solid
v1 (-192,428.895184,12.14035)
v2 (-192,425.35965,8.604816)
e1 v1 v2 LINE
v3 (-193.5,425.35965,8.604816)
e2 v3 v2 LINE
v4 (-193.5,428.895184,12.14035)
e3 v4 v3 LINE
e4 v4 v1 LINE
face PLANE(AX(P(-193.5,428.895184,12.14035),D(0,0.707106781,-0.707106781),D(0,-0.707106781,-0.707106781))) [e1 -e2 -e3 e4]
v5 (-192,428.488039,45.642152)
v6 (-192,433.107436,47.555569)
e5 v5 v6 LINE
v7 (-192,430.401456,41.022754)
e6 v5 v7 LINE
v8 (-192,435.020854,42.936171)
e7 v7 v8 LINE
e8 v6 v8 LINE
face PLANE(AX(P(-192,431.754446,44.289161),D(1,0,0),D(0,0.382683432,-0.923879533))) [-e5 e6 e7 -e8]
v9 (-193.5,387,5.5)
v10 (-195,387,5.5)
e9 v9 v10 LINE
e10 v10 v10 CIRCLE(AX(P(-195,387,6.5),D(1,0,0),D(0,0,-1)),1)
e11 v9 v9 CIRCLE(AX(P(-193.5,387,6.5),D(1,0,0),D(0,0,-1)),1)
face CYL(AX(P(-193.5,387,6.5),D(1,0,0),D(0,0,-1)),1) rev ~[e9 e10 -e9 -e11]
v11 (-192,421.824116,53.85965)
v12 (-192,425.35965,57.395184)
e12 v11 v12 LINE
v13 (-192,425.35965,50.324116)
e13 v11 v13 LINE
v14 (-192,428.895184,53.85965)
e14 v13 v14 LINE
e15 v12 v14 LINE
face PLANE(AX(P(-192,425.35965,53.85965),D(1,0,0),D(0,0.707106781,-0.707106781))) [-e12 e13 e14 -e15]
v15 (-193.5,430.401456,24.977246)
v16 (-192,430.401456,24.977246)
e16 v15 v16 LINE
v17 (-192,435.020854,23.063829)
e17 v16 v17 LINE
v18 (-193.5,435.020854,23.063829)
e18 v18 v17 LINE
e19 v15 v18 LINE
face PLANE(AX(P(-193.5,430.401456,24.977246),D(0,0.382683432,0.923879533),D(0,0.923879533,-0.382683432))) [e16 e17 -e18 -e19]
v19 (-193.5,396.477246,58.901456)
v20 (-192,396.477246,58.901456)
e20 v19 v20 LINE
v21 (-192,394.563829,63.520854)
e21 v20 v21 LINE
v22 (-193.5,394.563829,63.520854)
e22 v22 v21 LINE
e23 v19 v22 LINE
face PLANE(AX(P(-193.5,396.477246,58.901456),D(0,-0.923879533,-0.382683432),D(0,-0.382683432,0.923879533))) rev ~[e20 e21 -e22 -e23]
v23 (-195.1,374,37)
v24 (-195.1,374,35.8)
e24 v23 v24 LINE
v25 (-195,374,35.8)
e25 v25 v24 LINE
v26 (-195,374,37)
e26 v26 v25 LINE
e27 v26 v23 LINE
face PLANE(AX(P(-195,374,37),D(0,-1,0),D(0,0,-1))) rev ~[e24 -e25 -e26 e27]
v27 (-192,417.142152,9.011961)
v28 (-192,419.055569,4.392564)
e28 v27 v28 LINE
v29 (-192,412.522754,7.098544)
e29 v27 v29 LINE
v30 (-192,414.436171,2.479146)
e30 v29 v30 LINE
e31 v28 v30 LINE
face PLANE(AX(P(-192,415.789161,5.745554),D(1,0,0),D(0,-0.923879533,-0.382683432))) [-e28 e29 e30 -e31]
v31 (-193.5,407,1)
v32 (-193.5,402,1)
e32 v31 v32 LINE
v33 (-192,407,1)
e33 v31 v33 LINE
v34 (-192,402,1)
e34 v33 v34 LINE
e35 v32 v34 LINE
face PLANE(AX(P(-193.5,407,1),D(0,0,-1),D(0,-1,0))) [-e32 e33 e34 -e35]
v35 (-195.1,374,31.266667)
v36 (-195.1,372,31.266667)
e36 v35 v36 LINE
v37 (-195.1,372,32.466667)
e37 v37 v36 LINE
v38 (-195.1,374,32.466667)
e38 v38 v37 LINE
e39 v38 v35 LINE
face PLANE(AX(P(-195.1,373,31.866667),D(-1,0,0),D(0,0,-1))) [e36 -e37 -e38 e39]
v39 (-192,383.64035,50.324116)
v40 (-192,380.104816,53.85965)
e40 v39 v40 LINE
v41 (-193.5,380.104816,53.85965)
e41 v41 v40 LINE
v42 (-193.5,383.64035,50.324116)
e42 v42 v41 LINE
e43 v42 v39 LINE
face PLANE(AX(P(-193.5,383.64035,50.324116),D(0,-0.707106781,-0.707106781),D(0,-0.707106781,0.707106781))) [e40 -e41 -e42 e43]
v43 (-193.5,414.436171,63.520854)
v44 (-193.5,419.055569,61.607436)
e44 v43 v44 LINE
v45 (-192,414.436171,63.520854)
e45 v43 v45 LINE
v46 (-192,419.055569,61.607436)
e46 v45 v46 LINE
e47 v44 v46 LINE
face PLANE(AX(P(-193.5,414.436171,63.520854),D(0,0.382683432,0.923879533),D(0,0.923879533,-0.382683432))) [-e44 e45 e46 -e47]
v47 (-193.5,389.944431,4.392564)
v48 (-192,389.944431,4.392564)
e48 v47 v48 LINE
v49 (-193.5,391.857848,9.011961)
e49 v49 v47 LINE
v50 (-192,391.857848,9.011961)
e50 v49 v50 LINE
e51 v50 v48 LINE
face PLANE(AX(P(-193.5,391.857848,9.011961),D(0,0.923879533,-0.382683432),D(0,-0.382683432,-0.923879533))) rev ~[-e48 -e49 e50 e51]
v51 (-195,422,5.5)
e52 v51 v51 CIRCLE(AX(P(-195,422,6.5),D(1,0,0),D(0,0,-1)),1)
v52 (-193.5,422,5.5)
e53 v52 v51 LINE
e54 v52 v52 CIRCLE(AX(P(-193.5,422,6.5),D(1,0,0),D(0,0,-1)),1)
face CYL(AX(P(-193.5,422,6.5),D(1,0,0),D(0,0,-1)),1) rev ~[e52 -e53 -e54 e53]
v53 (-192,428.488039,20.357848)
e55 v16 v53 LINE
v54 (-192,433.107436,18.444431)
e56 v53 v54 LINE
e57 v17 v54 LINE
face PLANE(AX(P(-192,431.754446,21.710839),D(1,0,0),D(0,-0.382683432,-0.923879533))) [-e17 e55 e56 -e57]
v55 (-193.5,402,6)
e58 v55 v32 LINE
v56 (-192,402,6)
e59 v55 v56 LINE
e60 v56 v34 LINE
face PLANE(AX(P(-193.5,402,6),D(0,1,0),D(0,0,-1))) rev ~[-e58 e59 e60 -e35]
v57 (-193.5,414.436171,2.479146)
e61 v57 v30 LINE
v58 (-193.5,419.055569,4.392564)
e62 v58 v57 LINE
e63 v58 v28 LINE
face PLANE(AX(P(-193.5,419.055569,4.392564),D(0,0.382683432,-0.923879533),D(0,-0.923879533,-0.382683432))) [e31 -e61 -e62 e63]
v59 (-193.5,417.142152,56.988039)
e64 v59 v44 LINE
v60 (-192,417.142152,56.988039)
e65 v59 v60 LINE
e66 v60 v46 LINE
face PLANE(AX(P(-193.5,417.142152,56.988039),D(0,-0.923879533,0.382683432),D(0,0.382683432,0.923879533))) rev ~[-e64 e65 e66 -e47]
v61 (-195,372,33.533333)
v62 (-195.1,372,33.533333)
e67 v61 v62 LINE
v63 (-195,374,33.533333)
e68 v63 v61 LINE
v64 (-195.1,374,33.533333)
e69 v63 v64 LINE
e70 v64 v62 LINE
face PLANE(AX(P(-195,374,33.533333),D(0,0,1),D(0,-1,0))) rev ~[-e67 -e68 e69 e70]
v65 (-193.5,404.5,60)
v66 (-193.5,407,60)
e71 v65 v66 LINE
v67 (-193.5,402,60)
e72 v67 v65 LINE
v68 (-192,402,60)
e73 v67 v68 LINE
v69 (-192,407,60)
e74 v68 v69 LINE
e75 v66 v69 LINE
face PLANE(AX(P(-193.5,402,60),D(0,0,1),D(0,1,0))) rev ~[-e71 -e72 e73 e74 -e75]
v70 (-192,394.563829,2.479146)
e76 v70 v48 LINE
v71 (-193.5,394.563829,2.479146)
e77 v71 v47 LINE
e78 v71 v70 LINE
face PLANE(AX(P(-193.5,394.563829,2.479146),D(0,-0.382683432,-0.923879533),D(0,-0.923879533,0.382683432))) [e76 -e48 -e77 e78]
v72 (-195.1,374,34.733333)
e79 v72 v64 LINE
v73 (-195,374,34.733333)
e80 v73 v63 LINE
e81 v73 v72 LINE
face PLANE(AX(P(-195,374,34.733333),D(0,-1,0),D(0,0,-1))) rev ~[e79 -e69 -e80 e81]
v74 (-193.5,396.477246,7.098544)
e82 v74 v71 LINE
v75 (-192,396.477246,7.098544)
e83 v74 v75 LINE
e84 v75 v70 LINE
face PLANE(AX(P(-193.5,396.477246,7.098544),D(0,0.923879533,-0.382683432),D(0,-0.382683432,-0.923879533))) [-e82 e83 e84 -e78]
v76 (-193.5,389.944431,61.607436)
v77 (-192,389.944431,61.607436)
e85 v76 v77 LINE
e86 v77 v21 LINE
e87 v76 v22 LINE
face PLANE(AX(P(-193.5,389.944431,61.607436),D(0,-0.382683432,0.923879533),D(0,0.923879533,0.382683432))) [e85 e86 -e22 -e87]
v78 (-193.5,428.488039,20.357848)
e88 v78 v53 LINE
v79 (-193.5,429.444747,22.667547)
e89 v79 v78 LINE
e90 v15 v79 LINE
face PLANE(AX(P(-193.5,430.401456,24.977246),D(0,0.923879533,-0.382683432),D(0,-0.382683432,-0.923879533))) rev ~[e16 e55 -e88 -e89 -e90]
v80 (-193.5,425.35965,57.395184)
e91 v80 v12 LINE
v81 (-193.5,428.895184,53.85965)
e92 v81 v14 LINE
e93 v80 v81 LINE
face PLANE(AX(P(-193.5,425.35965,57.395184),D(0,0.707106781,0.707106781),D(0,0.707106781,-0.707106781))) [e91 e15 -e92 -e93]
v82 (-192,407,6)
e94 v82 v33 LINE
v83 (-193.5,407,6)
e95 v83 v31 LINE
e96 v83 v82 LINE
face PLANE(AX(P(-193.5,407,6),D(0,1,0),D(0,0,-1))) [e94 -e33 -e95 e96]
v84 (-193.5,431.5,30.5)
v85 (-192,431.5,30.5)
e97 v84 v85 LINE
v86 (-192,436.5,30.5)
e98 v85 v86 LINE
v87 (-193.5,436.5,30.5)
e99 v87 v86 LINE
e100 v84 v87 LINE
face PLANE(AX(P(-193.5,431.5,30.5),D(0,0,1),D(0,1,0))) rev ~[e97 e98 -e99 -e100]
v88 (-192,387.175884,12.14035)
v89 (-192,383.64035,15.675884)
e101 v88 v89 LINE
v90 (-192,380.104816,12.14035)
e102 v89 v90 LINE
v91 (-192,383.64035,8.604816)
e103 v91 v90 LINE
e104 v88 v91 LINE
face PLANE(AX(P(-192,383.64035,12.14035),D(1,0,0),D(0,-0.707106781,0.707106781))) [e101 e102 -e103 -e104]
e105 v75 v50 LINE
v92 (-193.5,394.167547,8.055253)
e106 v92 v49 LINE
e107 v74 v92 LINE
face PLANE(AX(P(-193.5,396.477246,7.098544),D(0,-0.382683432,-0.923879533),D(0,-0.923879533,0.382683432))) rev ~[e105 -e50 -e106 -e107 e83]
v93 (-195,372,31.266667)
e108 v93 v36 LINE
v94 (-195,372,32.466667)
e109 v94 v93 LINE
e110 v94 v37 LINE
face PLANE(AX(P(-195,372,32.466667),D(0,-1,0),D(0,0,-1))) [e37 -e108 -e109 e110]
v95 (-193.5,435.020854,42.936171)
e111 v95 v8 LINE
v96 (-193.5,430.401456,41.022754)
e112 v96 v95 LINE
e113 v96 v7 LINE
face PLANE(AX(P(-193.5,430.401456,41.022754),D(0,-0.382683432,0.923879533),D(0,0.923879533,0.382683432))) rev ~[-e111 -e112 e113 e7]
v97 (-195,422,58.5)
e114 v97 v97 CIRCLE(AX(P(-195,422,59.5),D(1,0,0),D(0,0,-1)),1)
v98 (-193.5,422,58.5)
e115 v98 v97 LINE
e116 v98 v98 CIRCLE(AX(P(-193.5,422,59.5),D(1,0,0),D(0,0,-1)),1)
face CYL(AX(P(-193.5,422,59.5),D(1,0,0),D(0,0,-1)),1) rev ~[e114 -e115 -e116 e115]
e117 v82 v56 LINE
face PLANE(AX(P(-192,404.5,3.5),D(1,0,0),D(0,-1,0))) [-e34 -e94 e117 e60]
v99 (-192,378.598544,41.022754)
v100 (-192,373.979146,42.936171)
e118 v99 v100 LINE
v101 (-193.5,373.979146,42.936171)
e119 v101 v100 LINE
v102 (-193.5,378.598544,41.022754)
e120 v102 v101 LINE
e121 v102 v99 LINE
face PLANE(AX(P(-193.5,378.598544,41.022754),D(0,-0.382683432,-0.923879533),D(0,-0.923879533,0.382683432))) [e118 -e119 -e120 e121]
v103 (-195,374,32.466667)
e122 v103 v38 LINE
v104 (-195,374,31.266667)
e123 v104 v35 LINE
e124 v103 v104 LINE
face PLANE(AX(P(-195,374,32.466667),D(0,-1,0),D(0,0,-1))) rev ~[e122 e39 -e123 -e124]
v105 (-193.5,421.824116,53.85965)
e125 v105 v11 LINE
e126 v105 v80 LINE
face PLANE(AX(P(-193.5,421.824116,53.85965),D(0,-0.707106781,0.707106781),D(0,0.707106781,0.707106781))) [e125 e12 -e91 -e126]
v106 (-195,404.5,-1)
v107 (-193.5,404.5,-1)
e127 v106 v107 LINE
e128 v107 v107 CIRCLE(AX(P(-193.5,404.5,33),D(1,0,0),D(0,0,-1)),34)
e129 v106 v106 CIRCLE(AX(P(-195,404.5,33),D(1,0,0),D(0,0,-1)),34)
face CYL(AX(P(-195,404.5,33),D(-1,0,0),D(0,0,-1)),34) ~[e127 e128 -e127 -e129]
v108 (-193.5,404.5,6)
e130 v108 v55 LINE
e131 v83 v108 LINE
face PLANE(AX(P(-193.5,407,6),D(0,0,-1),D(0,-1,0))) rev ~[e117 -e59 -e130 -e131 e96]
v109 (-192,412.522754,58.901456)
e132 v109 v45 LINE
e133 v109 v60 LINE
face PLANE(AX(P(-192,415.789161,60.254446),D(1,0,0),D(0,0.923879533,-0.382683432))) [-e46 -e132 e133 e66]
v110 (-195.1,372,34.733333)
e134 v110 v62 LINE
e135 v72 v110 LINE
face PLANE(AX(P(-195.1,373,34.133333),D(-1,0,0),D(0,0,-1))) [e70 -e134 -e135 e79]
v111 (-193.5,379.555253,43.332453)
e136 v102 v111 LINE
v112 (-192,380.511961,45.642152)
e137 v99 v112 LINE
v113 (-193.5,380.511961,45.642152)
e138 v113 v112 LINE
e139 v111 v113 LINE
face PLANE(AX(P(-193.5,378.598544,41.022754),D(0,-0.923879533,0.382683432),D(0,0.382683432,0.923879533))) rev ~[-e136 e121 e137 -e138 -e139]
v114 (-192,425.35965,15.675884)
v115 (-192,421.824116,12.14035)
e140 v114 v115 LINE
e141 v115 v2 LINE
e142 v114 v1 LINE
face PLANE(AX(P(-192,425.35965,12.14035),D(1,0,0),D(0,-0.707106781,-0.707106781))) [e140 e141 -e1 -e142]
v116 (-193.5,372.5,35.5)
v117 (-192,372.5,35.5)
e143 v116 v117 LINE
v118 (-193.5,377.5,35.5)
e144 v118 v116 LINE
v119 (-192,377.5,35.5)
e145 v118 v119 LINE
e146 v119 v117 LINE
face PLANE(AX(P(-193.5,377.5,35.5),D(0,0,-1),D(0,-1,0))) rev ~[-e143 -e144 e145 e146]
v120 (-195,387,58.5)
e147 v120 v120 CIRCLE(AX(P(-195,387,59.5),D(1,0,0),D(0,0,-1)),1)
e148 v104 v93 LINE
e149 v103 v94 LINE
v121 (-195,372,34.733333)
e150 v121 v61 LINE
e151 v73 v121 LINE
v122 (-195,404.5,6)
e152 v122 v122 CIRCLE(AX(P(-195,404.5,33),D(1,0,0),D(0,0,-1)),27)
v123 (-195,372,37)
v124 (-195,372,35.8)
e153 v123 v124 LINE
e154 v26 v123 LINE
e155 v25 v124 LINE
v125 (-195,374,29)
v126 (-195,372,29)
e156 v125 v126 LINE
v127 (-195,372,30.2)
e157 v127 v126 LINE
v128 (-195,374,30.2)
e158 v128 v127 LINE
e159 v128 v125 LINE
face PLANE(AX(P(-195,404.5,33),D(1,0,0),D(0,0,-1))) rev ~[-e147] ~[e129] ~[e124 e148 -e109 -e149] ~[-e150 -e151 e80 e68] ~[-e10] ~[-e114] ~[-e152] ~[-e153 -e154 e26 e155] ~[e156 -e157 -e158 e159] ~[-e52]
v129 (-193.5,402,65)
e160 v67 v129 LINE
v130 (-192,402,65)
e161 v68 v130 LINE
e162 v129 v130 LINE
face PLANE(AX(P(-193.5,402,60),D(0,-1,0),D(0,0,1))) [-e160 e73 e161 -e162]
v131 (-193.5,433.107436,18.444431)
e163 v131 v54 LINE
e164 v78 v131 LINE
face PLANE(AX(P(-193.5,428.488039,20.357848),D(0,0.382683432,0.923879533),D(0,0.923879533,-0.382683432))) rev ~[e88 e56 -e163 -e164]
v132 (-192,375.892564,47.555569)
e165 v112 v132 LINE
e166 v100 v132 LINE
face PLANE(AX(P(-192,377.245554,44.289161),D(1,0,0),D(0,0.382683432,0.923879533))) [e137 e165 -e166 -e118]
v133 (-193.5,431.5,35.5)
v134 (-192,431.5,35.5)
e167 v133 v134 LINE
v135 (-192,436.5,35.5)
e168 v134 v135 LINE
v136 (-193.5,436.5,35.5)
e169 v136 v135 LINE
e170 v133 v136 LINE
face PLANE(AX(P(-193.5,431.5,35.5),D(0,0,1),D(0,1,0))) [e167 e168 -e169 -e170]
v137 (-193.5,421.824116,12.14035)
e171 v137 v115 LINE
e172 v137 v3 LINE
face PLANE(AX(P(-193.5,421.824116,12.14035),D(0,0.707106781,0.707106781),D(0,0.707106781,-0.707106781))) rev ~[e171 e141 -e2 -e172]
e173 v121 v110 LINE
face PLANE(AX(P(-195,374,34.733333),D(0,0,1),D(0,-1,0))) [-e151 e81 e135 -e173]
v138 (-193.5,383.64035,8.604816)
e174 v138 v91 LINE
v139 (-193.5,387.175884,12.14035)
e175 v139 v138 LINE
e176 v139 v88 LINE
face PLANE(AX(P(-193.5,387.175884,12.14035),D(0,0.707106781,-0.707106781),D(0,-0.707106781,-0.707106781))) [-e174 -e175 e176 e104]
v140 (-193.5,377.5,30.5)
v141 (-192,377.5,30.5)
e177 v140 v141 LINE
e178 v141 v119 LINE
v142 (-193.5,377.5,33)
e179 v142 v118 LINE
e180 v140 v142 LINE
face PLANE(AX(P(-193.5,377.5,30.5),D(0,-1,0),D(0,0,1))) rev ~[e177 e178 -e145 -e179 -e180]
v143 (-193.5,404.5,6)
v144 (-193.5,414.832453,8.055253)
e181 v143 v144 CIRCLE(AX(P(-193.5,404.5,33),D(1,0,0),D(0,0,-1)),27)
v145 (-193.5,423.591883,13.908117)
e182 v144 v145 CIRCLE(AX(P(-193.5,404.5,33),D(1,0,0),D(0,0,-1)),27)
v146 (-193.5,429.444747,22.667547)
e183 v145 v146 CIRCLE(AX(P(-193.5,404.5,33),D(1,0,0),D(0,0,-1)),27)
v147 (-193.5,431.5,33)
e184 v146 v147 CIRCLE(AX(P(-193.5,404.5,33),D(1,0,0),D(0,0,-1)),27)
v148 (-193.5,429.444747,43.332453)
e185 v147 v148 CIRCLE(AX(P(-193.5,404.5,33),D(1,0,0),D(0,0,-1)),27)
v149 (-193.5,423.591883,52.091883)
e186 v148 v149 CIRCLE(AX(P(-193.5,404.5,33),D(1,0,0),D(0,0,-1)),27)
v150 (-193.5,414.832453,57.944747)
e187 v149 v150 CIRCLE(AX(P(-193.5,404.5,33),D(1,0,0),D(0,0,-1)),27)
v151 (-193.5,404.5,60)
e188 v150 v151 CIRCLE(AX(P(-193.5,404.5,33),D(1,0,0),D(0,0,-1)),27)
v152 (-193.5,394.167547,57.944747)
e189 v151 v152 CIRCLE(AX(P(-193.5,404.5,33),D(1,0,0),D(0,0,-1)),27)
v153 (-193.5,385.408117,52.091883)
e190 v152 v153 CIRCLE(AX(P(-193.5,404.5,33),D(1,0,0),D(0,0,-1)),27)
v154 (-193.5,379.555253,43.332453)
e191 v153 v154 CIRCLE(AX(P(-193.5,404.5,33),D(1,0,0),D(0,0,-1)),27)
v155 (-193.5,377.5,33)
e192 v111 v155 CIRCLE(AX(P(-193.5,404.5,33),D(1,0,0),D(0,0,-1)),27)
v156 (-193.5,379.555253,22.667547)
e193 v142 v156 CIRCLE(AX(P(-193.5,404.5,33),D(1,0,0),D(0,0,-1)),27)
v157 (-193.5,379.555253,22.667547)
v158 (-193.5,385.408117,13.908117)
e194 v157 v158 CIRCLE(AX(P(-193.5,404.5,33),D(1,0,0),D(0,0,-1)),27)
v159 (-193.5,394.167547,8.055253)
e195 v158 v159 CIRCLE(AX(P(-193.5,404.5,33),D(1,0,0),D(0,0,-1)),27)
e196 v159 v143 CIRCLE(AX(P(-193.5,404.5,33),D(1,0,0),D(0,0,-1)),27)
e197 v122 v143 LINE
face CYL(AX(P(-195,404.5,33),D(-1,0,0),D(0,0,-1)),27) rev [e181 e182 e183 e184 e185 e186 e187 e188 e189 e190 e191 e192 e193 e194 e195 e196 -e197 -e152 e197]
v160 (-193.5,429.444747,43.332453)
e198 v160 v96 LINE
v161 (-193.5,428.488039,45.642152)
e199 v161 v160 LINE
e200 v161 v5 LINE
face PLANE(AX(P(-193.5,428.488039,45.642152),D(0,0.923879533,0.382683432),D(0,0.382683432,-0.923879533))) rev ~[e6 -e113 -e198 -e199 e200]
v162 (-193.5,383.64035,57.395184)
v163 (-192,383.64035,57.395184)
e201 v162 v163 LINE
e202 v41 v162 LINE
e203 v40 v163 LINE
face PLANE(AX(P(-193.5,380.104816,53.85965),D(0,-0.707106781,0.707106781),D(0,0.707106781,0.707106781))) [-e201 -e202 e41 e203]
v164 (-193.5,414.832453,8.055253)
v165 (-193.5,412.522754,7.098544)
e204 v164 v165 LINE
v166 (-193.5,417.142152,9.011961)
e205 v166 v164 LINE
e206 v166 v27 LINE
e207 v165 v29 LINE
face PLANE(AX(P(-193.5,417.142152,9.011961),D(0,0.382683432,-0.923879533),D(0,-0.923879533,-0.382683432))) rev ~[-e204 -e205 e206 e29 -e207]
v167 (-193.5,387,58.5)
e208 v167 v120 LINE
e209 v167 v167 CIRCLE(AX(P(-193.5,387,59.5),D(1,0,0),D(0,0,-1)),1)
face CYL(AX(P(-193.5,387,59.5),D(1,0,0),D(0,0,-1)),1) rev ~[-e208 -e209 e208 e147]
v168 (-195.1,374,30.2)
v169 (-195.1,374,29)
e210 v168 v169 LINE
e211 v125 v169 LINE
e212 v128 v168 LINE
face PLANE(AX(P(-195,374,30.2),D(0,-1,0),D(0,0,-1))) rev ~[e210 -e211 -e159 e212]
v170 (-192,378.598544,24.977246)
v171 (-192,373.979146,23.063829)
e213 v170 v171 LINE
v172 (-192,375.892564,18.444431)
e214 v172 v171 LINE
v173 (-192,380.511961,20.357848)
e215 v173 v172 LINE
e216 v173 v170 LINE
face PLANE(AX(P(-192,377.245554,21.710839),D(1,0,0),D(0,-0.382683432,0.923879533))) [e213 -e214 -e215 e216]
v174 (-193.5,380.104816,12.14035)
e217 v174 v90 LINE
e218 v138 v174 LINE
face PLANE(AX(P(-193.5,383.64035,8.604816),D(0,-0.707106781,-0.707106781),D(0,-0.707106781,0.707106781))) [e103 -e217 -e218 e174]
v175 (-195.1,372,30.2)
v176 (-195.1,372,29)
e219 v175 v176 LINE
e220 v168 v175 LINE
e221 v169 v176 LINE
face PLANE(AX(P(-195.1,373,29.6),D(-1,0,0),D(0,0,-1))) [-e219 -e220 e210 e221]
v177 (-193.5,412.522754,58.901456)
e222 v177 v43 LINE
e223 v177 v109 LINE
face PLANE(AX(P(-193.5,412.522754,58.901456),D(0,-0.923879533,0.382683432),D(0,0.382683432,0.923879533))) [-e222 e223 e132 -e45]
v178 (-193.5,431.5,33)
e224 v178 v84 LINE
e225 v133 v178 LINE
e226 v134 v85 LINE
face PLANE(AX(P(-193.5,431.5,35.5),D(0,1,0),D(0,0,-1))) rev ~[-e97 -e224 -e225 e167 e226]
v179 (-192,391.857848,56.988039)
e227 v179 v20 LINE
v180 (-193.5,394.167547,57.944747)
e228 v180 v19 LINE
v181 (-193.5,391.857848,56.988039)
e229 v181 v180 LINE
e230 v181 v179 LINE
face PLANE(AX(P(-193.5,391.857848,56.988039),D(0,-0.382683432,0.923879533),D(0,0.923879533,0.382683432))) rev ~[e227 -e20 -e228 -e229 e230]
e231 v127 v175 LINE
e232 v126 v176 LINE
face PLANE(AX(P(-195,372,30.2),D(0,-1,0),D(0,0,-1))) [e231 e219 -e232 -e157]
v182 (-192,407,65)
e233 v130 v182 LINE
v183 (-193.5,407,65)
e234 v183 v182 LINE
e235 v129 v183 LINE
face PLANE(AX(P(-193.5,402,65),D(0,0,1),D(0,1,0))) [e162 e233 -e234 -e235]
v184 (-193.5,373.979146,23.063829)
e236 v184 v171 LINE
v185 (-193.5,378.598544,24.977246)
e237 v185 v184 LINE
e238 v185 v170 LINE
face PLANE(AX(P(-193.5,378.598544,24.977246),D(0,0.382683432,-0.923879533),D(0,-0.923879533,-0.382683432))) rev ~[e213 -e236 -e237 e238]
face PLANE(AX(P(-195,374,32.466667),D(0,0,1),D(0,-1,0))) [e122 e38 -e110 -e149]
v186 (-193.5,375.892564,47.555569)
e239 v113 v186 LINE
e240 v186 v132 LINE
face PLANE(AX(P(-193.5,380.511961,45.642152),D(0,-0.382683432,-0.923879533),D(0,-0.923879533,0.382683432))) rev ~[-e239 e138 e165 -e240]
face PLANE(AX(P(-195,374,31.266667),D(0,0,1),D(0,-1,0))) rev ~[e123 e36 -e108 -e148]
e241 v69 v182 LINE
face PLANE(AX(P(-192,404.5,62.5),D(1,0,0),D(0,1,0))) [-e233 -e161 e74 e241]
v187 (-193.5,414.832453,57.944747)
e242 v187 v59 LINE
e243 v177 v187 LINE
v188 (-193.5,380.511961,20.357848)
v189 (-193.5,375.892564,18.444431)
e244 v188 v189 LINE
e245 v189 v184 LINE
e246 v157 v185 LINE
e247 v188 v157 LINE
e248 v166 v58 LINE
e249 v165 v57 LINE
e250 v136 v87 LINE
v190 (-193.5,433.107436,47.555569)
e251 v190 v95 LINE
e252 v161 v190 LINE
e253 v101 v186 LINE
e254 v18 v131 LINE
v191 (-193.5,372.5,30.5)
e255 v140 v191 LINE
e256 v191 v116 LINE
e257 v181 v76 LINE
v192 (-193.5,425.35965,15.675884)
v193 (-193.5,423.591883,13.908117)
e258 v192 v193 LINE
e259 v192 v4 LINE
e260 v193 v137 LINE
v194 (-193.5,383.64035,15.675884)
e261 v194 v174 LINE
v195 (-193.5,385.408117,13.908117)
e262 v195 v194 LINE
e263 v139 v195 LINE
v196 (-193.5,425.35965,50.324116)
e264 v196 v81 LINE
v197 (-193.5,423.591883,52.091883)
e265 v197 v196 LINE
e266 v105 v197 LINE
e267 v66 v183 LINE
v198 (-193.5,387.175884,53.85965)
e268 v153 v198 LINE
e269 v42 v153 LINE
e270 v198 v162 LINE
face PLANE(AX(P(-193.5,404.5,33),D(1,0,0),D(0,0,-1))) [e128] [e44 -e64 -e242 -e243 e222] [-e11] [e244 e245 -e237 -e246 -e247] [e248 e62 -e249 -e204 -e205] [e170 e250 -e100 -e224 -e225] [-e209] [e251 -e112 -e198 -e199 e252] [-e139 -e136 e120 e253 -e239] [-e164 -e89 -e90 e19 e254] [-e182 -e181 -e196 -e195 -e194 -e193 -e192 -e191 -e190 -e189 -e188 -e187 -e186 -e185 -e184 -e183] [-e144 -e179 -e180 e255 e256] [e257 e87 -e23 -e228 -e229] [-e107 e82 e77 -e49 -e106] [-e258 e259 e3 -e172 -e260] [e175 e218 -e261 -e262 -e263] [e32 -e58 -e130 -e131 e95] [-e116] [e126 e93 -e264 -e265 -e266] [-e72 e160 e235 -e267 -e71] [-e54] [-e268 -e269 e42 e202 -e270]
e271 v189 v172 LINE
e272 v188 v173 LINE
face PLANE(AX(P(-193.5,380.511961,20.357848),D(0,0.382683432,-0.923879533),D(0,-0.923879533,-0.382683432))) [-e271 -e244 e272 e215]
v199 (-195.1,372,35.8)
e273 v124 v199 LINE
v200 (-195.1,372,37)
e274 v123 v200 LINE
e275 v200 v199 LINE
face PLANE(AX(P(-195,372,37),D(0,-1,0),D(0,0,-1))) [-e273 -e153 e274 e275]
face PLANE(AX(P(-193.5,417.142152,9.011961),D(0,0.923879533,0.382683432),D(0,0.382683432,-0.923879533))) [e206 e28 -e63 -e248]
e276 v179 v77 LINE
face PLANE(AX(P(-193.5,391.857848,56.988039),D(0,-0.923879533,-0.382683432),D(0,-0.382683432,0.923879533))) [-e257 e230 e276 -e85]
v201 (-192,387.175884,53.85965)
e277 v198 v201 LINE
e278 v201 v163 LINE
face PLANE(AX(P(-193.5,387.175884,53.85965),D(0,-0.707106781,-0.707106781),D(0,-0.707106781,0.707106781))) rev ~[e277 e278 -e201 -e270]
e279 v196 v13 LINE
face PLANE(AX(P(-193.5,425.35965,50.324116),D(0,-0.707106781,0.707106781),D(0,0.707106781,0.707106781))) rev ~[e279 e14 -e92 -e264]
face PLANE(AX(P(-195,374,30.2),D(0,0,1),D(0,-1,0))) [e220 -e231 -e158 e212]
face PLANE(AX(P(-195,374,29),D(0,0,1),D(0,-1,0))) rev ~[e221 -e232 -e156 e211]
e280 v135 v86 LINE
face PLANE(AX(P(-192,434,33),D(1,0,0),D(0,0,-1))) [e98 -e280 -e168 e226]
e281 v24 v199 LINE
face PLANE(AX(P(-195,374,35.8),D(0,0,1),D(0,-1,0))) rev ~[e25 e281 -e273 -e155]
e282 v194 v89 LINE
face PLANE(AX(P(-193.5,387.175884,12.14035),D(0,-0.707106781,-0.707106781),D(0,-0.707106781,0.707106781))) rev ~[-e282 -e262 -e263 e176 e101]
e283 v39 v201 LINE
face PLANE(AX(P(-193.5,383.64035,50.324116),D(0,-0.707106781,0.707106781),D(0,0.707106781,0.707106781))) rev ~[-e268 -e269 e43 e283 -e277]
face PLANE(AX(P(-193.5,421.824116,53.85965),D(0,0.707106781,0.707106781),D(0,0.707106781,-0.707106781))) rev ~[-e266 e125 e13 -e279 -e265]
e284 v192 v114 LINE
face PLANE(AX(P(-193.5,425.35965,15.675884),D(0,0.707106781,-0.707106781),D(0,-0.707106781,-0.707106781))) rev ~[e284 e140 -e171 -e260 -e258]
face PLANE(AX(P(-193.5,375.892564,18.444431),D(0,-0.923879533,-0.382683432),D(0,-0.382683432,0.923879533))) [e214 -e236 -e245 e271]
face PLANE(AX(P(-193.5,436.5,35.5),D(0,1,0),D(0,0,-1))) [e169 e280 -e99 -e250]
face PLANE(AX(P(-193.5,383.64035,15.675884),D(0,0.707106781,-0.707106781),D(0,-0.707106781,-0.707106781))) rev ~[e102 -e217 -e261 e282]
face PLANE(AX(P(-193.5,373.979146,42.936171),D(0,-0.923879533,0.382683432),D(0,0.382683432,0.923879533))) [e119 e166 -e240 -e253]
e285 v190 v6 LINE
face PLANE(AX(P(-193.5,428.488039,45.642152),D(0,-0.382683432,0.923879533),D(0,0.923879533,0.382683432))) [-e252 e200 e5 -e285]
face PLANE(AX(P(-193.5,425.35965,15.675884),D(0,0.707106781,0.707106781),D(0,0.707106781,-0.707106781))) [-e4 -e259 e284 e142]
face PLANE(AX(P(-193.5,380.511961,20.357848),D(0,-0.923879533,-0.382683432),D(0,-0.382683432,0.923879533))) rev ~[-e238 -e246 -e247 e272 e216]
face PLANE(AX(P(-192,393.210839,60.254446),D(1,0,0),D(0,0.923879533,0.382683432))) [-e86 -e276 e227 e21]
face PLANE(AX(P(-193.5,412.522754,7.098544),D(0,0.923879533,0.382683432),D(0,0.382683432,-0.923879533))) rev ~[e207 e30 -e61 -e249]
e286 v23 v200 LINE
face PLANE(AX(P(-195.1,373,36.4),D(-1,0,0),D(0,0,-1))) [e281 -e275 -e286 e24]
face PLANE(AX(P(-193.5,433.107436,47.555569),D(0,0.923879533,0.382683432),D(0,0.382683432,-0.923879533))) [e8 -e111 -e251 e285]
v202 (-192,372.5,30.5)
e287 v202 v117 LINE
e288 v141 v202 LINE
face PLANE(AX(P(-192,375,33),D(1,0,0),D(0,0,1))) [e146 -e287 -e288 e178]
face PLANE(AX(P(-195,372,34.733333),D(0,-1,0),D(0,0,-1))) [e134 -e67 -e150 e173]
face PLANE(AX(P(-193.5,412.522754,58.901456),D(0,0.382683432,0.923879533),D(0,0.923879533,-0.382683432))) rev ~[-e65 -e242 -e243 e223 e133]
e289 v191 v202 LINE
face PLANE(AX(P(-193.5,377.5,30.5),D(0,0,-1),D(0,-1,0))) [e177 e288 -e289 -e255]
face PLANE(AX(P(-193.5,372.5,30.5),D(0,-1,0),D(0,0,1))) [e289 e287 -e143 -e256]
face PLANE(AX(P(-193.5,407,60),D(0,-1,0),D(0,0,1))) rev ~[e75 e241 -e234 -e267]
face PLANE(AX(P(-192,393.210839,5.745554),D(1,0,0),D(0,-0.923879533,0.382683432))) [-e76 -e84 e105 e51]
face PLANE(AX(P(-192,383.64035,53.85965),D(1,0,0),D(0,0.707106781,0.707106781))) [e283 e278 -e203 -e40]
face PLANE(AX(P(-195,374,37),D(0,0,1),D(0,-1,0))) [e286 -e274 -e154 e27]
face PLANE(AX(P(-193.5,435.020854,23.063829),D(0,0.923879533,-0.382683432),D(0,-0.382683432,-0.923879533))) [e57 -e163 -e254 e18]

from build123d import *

# Parameters (mm, degrees)
SKETCH051_R             = 34
SKETCH051_R_2           = 27
PAD041_DEPTH            = 1.5
SKETCH052_W             = 1.2
SKETCH052_H             = 2
PAD042_DEPTH            = 0.1
SKETCH053_R             = 1
POCKET008_DEPTH         = 1.601
SKETCH054_W             = 5
SKETCH054_H             = 5
PAD043_DEPTH            = 1.5
POLARPATTERN_COUNT      = 16
BODY013_PLACEMENT_ANGLE = 90


with BuildPart() as part:
    # Sketch051 → Pad041 (new body)
    with BuildSketch(Plane.XY):
        Circle(SKETCH051_R)
        Circle(SKETCH051_R_2, mode=Mode.SUBTRACT)
    extrude(amount=PAD041_DEPTH)

    # Sketch052 (on Face3 of Pad041) → Pad042 (join)
    with BuildSketch(Plane(origin=(0, 0, 0), x_dir=(1, 0, 0), z_dir=(0, 0, -1))):
        with Locations((-3.4, 31.5)):
            Rectangle(SKETCH052_W, SKETCH052_H)
        with Locations((-1.133333, 31.5)):
            Rectangle(SKETCH052_W, SKETCH052_H)
        with Locations((1.133333, 31.5)):
            Rectangle(SKETCH052_W, SKETCH052_H)
        with Locations((3.4, 31.5)):
            Rectangle(SKETCH052_W, SKETCH052_H)
    extrude(amount=PAD042_DEPTH)

    # Sketch053 (on Face3 of Pad042) → Pocket008 (cut, through all)
    with BuildSketch(Plane.XY.offset(1.5)):
        with Locations((-26.5, 17.5)):
            Circle(SKETCH053_R)
        with Locations((26.5, 17.5)):
            Circle(SKETCH053_R)
        with Locations((26.5, -17.5)):
            Circle(SKETCH053_R)
        with Locations((-26.5, -17.5)):
            Circle(SKETCH053_R)
    extrude(amount=-POCKET008_DEPTH, mode=Mode.SUBTRACT)

    # Sketch054 (on Face3 of Pocket008) → Pad043 (join)
    with BuildSketch(Plane.XY.offset(1.5)):
        with Locations((0, 29.5)):
            Rectangle(SKETCH054_W, SKETCH054_H)
    pad043 = extrude(amount=PAD043_DEPTH)

    # PolarPattern: Pad043 ×16 about axis
    polarpattern_axis = Axis((0, 0, 1.5), (0, 0, 1))
    for i in range(1, POLARPATTERN_COUNT):
        add(pad043.rotate(polarpattern_axis, i * 360 / POLARPATTERN_COUNT))


with BuildPart() as part_1:
    # Body013 placement: moved
    add(part.part.moved(Location((-195, 404.5, 33))).rotate(Axis((-195, 404.5, 33), (0, 1, 0)), BODY013_PLACEMENT_ANGLE))


solid = part_1.part
